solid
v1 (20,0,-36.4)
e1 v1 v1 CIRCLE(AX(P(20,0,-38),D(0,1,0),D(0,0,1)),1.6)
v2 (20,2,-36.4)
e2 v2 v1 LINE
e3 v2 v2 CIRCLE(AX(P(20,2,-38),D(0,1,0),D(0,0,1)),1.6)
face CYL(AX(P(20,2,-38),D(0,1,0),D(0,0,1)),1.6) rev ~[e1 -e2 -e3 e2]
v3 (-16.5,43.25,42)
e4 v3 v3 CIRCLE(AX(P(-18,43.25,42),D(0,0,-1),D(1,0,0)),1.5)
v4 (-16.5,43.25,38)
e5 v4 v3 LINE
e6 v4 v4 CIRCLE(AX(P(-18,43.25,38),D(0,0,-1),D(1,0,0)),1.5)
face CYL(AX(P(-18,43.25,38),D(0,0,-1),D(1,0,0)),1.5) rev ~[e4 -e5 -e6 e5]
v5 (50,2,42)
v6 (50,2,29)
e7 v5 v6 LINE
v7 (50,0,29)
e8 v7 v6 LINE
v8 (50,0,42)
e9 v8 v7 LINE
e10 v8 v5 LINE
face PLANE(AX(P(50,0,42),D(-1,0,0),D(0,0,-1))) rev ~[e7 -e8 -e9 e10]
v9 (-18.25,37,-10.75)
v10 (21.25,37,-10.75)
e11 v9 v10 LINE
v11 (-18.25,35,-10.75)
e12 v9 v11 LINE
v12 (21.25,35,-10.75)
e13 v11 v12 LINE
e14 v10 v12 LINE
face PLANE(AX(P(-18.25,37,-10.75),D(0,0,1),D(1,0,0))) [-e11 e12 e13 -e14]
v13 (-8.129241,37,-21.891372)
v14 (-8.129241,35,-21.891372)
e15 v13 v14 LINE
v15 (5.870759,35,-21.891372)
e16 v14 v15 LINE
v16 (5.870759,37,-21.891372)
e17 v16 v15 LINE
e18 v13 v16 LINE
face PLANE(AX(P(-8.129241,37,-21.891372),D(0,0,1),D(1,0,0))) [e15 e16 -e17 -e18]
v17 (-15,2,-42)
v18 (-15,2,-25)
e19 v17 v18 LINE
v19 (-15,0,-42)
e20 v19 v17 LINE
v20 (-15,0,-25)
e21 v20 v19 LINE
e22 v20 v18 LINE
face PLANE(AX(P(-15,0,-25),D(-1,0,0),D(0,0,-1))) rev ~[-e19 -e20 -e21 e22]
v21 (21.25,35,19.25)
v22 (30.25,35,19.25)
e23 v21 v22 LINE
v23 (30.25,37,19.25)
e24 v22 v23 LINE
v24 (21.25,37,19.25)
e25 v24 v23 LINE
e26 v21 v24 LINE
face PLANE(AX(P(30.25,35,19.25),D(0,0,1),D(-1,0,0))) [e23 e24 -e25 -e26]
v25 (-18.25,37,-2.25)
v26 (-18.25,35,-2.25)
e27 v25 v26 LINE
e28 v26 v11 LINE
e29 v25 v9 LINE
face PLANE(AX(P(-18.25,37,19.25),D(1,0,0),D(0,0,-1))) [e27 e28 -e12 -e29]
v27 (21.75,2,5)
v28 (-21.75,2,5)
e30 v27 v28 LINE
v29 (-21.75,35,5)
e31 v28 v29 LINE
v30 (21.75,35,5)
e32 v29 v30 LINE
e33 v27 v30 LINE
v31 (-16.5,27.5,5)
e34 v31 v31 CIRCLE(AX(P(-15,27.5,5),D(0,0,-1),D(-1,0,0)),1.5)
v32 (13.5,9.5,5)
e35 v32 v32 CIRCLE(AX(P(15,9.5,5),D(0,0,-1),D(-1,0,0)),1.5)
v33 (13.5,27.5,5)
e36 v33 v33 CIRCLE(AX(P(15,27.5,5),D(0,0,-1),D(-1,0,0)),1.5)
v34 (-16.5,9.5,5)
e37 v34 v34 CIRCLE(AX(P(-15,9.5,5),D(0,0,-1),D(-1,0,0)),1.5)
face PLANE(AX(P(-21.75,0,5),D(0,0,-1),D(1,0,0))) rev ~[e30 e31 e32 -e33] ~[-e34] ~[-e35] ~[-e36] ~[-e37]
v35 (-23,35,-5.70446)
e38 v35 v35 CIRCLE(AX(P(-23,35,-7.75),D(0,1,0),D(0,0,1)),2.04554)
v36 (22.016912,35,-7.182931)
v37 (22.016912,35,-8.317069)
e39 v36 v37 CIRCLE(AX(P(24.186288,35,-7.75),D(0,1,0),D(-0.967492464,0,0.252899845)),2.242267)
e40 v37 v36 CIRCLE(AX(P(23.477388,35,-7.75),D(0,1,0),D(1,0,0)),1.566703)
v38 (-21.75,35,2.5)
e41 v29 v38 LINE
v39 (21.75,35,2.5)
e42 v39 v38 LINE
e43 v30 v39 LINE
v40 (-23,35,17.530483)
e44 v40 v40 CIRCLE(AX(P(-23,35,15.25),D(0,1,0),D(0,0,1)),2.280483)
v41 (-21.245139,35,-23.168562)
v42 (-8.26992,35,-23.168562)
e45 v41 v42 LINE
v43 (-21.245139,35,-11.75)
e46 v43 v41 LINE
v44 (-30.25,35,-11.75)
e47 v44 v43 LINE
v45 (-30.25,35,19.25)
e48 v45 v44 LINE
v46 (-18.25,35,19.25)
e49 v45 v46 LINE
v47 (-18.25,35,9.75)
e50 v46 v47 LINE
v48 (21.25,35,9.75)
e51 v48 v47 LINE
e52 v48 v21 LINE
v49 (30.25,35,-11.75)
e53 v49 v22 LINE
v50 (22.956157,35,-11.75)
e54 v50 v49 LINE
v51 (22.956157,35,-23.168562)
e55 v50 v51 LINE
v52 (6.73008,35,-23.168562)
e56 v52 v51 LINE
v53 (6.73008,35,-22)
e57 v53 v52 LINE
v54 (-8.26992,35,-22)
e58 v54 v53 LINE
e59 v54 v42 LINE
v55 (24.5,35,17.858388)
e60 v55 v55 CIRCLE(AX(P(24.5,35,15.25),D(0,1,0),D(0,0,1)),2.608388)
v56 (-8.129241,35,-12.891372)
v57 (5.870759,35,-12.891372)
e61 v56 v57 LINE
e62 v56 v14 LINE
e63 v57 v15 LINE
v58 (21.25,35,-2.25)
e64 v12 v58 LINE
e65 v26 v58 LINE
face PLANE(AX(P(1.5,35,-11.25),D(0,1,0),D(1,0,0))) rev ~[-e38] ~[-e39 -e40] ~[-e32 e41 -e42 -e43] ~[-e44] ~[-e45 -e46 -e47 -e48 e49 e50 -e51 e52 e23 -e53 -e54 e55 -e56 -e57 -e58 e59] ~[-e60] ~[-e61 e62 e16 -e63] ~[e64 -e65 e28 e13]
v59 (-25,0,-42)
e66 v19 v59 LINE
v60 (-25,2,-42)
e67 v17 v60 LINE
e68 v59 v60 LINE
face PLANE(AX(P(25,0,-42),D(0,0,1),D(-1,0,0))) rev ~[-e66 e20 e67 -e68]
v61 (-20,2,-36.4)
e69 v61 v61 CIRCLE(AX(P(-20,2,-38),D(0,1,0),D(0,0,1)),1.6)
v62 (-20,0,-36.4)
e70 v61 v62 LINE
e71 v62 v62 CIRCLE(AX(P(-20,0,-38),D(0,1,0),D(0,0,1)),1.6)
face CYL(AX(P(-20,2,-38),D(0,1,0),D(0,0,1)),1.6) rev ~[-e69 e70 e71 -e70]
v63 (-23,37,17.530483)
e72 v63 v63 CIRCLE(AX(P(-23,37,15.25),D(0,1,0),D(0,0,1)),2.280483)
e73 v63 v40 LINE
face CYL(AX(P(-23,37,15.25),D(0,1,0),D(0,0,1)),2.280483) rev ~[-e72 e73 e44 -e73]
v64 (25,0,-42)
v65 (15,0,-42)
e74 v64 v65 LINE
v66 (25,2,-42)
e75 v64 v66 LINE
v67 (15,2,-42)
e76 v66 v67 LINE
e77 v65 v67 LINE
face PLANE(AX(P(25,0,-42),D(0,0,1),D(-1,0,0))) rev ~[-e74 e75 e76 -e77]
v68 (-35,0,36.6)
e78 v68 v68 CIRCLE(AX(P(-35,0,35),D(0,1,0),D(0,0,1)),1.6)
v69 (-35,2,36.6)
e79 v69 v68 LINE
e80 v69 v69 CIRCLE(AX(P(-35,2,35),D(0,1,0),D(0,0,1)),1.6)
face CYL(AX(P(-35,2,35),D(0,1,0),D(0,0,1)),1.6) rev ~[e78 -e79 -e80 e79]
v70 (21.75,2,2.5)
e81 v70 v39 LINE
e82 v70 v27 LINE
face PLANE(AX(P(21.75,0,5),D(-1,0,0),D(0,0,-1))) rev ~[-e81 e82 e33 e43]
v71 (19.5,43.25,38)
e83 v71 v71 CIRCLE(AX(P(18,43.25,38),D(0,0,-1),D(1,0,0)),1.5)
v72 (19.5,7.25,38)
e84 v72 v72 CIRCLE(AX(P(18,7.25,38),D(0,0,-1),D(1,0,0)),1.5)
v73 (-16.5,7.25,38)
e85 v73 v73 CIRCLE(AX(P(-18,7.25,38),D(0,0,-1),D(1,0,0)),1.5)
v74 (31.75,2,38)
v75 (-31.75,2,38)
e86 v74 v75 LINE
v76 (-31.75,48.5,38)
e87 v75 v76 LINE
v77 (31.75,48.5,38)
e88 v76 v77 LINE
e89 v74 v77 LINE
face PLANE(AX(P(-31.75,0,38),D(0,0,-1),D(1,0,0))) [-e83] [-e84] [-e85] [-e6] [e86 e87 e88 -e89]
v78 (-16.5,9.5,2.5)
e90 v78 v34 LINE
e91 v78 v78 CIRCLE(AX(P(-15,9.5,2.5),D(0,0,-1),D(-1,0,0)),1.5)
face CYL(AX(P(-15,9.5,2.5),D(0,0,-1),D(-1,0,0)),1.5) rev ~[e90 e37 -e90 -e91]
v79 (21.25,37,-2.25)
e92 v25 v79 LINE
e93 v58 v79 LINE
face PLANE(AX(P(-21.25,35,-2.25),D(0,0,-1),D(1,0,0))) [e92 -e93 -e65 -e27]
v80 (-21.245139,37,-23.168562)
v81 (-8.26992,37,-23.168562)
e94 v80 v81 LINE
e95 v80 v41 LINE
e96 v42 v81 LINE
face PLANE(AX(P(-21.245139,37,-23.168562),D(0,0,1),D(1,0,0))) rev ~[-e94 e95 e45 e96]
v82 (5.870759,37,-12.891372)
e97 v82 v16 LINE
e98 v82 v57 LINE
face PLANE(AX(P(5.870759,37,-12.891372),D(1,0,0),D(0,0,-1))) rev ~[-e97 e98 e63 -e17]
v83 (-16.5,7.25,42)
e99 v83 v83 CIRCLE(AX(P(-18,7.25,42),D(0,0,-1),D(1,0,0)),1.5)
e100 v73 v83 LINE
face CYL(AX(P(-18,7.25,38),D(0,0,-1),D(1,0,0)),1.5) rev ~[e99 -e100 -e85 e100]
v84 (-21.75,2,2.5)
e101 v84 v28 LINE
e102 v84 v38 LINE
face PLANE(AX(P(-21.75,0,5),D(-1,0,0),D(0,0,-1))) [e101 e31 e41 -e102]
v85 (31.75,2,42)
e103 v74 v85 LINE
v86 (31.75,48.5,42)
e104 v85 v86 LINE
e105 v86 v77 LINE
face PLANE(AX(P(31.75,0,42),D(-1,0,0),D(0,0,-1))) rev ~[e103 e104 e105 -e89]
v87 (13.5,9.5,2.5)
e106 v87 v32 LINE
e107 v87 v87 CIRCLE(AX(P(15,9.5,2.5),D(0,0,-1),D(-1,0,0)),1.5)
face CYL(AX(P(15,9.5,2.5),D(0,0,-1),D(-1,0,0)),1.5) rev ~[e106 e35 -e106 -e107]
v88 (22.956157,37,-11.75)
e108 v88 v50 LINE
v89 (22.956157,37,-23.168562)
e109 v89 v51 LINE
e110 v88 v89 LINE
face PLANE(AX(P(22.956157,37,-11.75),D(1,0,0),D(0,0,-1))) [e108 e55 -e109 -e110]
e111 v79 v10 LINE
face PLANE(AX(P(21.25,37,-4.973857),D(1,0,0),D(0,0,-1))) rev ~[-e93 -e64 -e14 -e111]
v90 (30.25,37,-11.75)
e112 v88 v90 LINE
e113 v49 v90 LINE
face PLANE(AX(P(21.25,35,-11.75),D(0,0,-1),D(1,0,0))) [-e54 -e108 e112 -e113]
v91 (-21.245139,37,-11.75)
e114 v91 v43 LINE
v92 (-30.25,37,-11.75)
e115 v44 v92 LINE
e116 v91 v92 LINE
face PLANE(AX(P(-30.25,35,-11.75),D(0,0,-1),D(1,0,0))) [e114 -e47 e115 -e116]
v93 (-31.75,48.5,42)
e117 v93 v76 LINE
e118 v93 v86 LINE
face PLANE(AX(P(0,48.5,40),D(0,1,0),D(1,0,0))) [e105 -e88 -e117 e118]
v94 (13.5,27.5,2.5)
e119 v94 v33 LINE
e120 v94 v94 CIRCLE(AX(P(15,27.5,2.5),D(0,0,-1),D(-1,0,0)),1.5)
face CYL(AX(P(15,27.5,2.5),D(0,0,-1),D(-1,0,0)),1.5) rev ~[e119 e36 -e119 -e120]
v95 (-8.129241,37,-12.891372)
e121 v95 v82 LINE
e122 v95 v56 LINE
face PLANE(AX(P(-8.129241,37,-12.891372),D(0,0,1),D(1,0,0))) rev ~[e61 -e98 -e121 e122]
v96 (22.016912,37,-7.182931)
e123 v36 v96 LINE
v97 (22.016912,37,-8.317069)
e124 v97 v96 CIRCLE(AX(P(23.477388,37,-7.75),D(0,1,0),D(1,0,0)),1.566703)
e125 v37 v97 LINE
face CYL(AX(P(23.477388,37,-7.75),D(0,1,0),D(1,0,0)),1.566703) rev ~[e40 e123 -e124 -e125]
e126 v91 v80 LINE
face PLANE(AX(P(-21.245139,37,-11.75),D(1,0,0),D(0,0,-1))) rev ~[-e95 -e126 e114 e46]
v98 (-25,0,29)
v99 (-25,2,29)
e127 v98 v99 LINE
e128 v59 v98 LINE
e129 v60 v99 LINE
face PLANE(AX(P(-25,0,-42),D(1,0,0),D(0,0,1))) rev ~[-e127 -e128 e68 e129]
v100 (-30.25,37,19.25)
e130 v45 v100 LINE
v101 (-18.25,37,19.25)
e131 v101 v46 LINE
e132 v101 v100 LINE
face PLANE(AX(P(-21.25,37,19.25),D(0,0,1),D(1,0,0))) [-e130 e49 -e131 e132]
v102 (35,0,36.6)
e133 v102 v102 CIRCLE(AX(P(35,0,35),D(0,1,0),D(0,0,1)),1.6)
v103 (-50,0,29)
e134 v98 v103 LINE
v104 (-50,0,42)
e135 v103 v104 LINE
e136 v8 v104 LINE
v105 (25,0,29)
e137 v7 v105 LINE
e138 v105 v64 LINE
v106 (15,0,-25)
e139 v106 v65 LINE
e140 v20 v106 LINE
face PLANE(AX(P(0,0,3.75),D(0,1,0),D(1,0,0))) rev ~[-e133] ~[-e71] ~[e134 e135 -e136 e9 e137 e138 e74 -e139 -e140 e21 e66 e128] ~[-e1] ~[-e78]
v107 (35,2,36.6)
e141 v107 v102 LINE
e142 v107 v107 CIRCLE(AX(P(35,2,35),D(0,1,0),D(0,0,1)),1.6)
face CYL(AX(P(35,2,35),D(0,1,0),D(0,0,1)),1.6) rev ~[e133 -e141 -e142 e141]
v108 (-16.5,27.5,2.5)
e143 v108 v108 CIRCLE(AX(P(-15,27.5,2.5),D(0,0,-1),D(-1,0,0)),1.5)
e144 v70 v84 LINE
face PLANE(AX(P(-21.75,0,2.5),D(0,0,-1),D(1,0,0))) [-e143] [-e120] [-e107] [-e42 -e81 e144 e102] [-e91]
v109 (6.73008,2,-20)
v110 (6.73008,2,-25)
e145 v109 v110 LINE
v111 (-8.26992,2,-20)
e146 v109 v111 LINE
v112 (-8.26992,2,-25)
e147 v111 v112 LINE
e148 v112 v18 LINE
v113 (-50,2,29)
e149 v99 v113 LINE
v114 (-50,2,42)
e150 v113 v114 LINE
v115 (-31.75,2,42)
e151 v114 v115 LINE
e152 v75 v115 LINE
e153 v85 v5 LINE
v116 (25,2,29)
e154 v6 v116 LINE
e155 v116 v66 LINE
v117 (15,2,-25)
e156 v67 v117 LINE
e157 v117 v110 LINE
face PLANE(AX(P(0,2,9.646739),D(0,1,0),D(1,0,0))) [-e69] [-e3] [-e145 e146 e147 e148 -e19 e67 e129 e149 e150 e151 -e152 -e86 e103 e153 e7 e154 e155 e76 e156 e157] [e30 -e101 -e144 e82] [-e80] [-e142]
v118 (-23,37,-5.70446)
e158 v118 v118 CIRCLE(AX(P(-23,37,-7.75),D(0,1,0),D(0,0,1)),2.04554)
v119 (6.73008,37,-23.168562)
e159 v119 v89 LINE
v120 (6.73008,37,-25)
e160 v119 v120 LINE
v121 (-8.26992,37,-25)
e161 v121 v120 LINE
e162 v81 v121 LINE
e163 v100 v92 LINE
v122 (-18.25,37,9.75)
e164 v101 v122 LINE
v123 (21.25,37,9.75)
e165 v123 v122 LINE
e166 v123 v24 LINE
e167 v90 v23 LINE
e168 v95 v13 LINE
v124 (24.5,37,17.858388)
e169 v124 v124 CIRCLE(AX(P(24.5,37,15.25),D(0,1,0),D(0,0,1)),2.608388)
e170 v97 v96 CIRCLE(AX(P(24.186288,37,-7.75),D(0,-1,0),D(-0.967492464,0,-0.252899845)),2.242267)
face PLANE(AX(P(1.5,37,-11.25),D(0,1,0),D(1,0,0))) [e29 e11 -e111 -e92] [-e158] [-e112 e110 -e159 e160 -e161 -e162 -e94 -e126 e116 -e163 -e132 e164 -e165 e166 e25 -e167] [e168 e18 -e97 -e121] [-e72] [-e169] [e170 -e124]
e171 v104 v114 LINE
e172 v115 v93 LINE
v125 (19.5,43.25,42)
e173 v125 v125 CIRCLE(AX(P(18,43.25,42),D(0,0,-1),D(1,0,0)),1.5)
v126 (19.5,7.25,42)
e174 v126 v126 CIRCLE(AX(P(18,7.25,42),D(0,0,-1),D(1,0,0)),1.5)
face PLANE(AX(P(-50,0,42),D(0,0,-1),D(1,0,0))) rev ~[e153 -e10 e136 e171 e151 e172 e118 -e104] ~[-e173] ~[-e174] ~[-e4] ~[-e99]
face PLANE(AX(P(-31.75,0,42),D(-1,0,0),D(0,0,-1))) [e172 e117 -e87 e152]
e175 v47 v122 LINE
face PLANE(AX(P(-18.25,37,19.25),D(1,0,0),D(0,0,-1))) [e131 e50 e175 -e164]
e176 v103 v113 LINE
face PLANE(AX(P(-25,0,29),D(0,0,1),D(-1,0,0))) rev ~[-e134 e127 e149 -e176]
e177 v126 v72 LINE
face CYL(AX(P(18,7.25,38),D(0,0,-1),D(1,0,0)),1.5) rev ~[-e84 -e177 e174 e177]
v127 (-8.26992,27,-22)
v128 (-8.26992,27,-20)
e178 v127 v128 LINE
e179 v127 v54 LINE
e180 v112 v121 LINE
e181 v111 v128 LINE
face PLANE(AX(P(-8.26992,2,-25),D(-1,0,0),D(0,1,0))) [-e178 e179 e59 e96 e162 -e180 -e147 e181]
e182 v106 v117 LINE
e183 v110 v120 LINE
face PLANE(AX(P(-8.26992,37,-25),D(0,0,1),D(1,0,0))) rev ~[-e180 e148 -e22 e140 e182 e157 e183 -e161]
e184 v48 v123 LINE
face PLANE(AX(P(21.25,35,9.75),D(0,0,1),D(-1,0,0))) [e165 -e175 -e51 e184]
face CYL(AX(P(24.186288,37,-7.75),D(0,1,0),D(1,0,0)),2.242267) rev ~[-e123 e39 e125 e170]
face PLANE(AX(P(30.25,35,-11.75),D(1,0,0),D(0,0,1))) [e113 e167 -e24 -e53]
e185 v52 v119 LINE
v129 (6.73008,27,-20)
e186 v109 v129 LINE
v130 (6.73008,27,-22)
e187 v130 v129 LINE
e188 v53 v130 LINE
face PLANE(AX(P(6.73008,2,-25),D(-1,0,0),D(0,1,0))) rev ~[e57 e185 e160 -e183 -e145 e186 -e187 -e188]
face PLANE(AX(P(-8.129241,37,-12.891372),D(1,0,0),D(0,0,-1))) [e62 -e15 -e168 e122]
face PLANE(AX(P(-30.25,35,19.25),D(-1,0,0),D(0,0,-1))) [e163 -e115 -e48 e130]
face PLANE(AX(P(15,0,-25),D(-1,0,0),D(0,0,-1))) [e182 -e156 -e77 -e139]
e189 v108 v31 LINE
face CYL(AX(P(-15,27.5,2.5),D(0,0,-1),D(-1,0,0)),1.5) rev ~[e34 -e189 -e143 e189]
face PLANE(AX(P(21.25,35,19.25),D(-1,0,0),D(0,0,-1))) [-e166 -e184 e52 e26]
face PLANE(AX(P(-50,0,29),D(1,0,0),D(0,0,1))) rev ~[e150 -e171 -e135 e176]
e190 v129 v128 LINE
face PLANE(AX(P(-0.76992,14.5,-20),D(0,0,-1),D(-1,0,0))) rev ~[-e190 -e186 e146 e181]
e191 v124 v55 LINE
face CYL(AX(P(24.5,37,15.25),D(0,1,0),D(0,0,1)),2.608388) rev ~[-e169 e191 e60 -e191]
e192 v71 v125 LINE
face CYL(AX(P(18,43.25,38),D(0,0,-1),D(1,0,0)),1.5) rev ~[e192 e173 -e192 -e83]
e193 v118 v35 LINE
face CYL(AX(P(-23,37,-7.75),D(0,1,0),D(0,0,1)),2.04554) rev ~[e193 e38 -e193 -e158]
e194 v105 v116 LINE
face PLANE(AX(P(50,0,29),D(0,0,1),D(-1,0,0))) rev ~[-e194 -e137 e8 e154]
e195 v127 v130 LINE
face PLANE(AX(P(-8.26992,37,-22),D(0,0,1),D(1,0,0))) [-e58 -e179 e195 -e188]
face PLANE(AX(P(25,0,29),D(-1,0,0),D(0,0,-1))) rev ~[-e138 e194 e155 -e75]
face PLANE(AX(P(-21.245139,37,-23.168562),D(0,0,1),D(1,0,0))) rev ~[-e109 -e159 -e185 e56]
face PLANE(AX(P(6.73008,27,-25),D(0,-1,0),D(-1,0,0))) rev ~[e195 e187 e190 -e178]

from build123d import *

# Parameters (mm, degrees)
SALIENTE_EXTRUIR1_DEPTH  = 2
CROQUIS2_W               = 30
CROQUIS2_H               = 17
CORTAR_EXTRUIR1_DEPTH    = 8
CROQUIS4_W               = 63.5
CROQUIS4_H               = 4
SALIENTE_EXTRUIR2_DEPTH  = 48.5
CROQUIS5_W               = 43.5
CROQUIS5_H               = 2.5
SALIENTE_EXTRUIR3_DEPTH  = 35
CROQUIS7_R               = 1.5
CORTAR_EXTRUIR2_DEPTH    = 9
CROQUIS8_R               = 1.5
CORTAR_EXTRUIR3_DEPTH    = 23
SALIENTE_EXTRUIR4_DEPTH  = 2
CROQUIS13_R              = 1.5
CORTAR_EXTRUIR4_DEPTH    = 2
CROQUIS16_W              = 3
CROQUIS16_H              = 31
SALIENTE_EXTRUIR7_DEPTH  = 2
CROQUIS17_W              = 15
CROQUIS17_H              = 3
SALIENTE_EXTRUIR8_DEPTH  = 25
CROQUIS21_W              = 15
CROQUIS21_H              = 3
SALIENTE_EXTRUIR9_DEPTH  = 2
CROQUIS25_R              = 3.826074219
CORTAR_EXTRUIR6_DEPTH    = 2
CROQUIS28_W              = 44.201296129
CROQUIS28_H              = 11.418561917
SALIENTE_EXTRUIR10_DEPTH = 2
CROQUIS30_W              = 15
CROQUIS30_H              = 3
SALIENTE_EXTRUIR11_DEPTH = 8
CROQUIS31_W              = 14
CROQUIS31_H              = 9
CORTAR_EXTRUIR7_DEPTH    = 2
CROQUIS33_W              = 39.5
CROQUIS33_H              = 1
SALIENTE_EXTRUIR13_DEPTH = 2
CROQUIS36_W              = 4.944902354
CROQUIS36_H              = 4.974433571
CROQUIS36_R              = 1.566702584
SALIENTE_EXTRUIR14_DEPTH = 2
CROQUIS37_R              = 2.242266835
CORTAR_EXTRUIR8_DEPTH    = 2
CROQUIS38_W              = 1.939564783
CROQUIS38_H              = 6.647351579
SALIENTE_EXTRUIR18_DEPTH = 2
CROQUIS39_R              = 2.608387943
CORTAR_EXTRUIR9_DEPTH    = 2
CROQUIS40_R              = 2.045540146
CORTAR_EXTRUIR10_DEPTH   = 2
CROQUIS41_R              = 2.280483158
CORTAR_EXTRUIR11_DEPTH   = 2
CROQUIS42_W              = 15
CROQUIS42_H              = 25
SALIENTE_EXTRUIR19_DEPTH = 5
CROQUIS43_R              = 1.6
CORTAR_EXTRUIR12_DEPTH   = 10


with BuildPart() as part:
    # Croquis1 → Saliente-Extruir1 (new body)
    with BuildSketch(Plane(origin=(0, 0, 0), x_dir=(1, 0, 0), z_dir=(0, 1, 0))):
        Polygon((25, 42), (-25, 42), (-25, -29), (-50, -29), (-50, -42), (50, -42), (50, -29), (25, -29), align=None)
    extrude(amount=SALIENTE_EXTRUIR1_DEPTH)

    # Croquis2 → Cortar-Extruir1 (cut)
    with BuildSketch(Plane(origin=(0, 0, 0), x_dir=(1, 0, 0), z_dir=(0, 1, 0))):
        with Locations((0, 33.5)):
            Rectangle(CROQUIS2_W, CROQUIS2_H)
    extrude(amount=CORTAR_EXTRUIR1_DEPTH, mode=Mode.SUBTRACT)

    # Croquis4 → Saliente-Extruir2 (add)
    with BuildSketch(Plane(origin=(0, 0, 0), x_dir=(1, 0, 0), z_dir=(0, 1, 0))):
        with Locations((0, -40)):
            Rectangle(CROQUIS4_W, CROQUIS4_H)
    extrude(amount=SALIENTE_EXTRUIR2_DEPTH)

    # Croquis5 → Saliente-Extruir3 (add)
    with BuildSketch(Plane(origin=(0, 0, 0), x_dir=(1, 0, 0), z_dir=(0, 1, 0))):
        with Locations((0, -3.75)):
            Rectangle(CROQUIS5_W, CROQUIS5_H)
    extrude(amount=SALIENTE_EXTRUIR3_DEPTH)

    # Croquis7 → Cortar-Extruir2 (cut, symmetric)
    with BuildSketch(Plane(origin=(0, 0, 38), x_dir=(-1, 0, 0), z_dir=(0, 0, -1))):
        with Locations(Location((-18, 43.25, 0), (0, 0, 180))):
            Circle(CROQUIS7_R)
        with Locations(Location((18, 43.25, 0), (0, 0, 180))):
            Circle(CROQUIS7_R)
        with Locations(Location((18, 7.25, 0), (0, 0, 180))):
            Circle(CROQUIS7_R)
        with Locations(Location((-18, 7.25, 0), (0, 0, 180))):
            Circle(CROQUIS7_R)
    extrude(amount=CORTAR_EXTRUIR2_DEPTH, both=True, mode=Mode.SUBTRACT)

    # Croquis8 → Cortar-Extruir3 (cut)
    with BuildSketch(Plane(origin=(0, 0, 2.5), x_dir=(-1, 0, 0), z_dir=(0, 0, -1))):
        with Locations((-15, 27.5)):
            Circle(CROQUIS8_R)
        with Locations((15, 9.5)):
            Circle(CROQUIS8_R)
        with Locations((15, 27.5)):
            Circle(CROQUIS8_R)
        with Locations((-15, 9.5)):
            Circle(CROQUIS8_R)
    extrude(amount=-CORTAR_EXTRUIR3_DEPTH, mode=Mode.SUBTRACT)



with BuildPart() as body_2:
    # Croquis12 → Saliente-Extruir4 (new body)
    with BuildSketch(Plane(origin=(0, 35, -35), x_dir=(1, 0, 0), z_dir=(0, -1, 0))):
        Polygon((21.25, 44.75), (-21.25, 44.75), (-21.25, 54.25), (-30.25, 54.25), (-30.25, 23.25), (-21.25, 23.25), (-21.25, 32.75), (21.25, 32.75), (21.25, 23.25), (30.25, 23.25), (30.25, 54.25), (21.25, 54.25), align=None)
    extrude(amount=-SALIENTE_EXTRUIR4_DEPTH)

    # Croquis13 → Cortar-Extruir4 (cut)
    with BuildSketch(Plane(origin=(0, 37, 0), x_dir=(1, 0, 0), z_dir=(0, 1, 0))):
        with Locations(Location((23, -15.25, 0), (0, 0, 270))):
            Circle(CROQUIS13_R)
        with Locations(Location((23, 7.75, 0), (0, 0, 90))):
            Circle(CROQUIS13_R)
        with Locations(Location((-23, 7.75, 0), (0, 0, 270))):
            Circle(CROQUIS13_R)
        with Locations(Location((-23, -15.25, 0), (0, 0, 90))):
            Circle(CROQUIS13_R)
    extrude(amount=-CORTAR_EXTRUIR4_DEPTH, mode=Mode.SUBTRACT)


with BuildPart() as part_1:
    add(part.part)

    add(body_2.part)  # Saliente-Extruir7 merges body 2
    # Croquis16 → Saliente-Extruir7 (add)
    with BuildSketch(Plane(origin=(0, 37, 0), x_dir=(1, 0, 0), z_dir=(0, 1, 0))):
        with Locations((-19.75, -3.75)):
            Rectangle(CROQUIS16_W, CROQUIS16_H)
    extrude(amount=-SALIENTE_EXTRUIR7_DEPTH)

    # Croquis17 → Saliente-Extruir8 (add)
    with BuildSketch(Plane(origin=(0, 2, 0), x_dir=(1, 0, 0), z_dir=(0, 1, 0))):
        with Locations((-0.769919921, 23.5)):
            Rectangle(CROQUIS17_W, CROQUIS17_H)
    extrude(amount=SALIENTE_EXTRUIR8_DEPTH)

    # Croquis21 → Saliente-Extruir9 (add)
    with BuildSketch(Plane(origin=(0, 27, 0), x_dir=(1, 0, 0), z_dir=(0, 1, 0))):
        with Locations((-0.769919921, 23.5)):
            Rectangle(CROQUIS21_W, CROQUIS21_H)
    extrude(amount=SALIENTE_EXTRUIR9_DEPTH)

    # Croquis25 → Cortar-Extruir6 (cut)
    with BuildSketch(Plane(origin=(0, 0, -25), x_dir=(-1, 0, 0), z_dir=(0, 0, -1))):
        with Locations((1.065680286, 20.360266958)):
            Circle(CROQUIS25_R)
    extrude(amount=-CORTAR_EXTRUIR6_DEPTH, mode=Mode.SUBTRACT)

    # Croquis28 → Saliente-Extruir10 (add)
    with BuildSketch(Plane(origin=(0, 37, 0), x_dir=(1, 0, 0), z_dir=(0, 1, 0))):
        with Locations((0.855508958, 17.459280959)):
            Rectangle(CROQUIS28_W, CROQUIS28_H)
    extrude(amount=-SALIENTE_EXTRUIR10_DEPTH)

    # Croquis30 → Saliente-Extruir11 (add)
    with BuildSketch(Plane(origin=(0, 37, 0), x_dir=(1, 0, 0), z_dir=(0, 1, 0))):
        with Locations((-0.769919921, 23.5)):
            Rectangle(CROQUIS30_W, CROQUIS30_H)
    extrude(amount=-SALIENTE_EXTRUIR11_DEPTH)

    # Croquis31 → Cortar-Extruir7 (cut)
    with BuildSketch(Plane(origin=(0, 37, 0), x_dir=(1, 0, 0), z_dir=(0, 1, 0))):
        with Locations((-1.129241311, 17.391372283)):
            Rectangle(CROQUIS31_W, CROQUIS31_H)
    extrude(amount=-CORTAR_EXTRUIR7_DEPTH, mode=Mode.SUBTRACT)

    # Croquis33 → Saliente-Extruir13 (add)
    with BuildSketch(Plane(origin=(0, 37, 0), x_dir=(1, 0, 0), z_dir=(0, 1, 0))):
        with Locations((1.5, 11.25)):
            Rectangle(CROQUIS33_W, CROQUIS33_H)
    extrude(amount=-SALIENTE_EXTRUIR13_DEPTH)

    # Croquis36 → Saliente-Extruir14 (add)
    with BuildSketch(Plane(origin=(0, 37, 0), x_dir=(1, 0, 0), z_dir=(0, 1, 0))):
        with Locations((23.722451177, 7.461073997)):
            Rectangle(CROQUIS36_W, CROQUIS36_H)
        with Locations((23.477387718, 7.75)):
            Circle(CROQUIS36_R, mode=Mode.SUBTRACT)
    extrude(amount=-SALIENTE_EXTRUIR14_DEPTH)

    # Croquis37 → Cortar-Extruir8 (cut)
    with BuildSketch(Plane(origin=(0, 37, 0), x_dir=(1, 0, 0), z_dir=(0, 1, 0))):
        with Locations((24.186288099, 7.75)):
            Circle(CROQUIS37_R)
    extrude(amount=-CORTAR_EXTRUIR8_DEPTH, mode=Mode.SUBTRACT)

    # Croquis38 → Saliente-Extruir18 (add)
    with BuildSketch(Plane(origin=(0, 37, 0), x_dir=(1, 0, 0), z_dir=(0, 1, 0))):
        with Locations((22.219782392, -15.926324211)):
            Rectangle(CROQUIS38_W, CROQUIS38_H)
    extrude(amount=-SALIENTE_EXTRUIR18_DEPTH)

    # Croquis39 → Cortar-Extruir9 (cut)
    with BuildSketch(Plane(origin=(0, 37, 0), x_dir=(1, 0, 0), z_dir=(0, 1, 0))):
        with Locations(Location((24.5, -15.25, 0), (0, 0, 270))):
            Circle(CROQUIS39_R)
    extrude(amount=-CORTAR_EXTRUIR9_DEPTH, mode=Mode.SUBTRACT)

    # Croquis40 → Cortar-Extruir10 (cut)
    with BuildSketch(Plane(origin=(0, 37, 0), x_dir=(1, 0, 0), z_dir=(0, 1, 0))):
        with Locations(Location((-23, 7.75, 0), (0, 0, 270))):
            Circle(CROQUIS40_R)
    extrude(amount=-CORTAR_EXTRUIR10_DEPTH, mode=Mode.SUBTRACT)

    # Croquis41 → Cortar-Extruir11 (cut)
    with BuildSketch(Plane(origin=(0, 37, 0), x_dir=(1, 0, 0), z_dir=(0, 1, 0))):
        with Locations(Location((-23, -15.25, 0), (0, 0, 270))):
            Circle(CROQUIS41_R)
    extrude(amount=-CORTAR_EXTRUIR11_DEPTH, mode=Mode.SUBTRACT)

    # Croquis42 → Saliente-Extruir19 (add)
    with BuildSketch(Plane(origin=(0, 0, -25), x_dir=(-1, 0, 0), z_dir=(0, 0, -1))):
        with Locations((0.769919921, 14.5)):
            Rectangle(CROQUIS42_W, CROQUIS42_H)
    extrude(amount=-SALIENTE_EXTRUIR19_DEPTH)

    # Croquis43 → Cortar-Extruir12 (cut)
    with BuildSketch(Plane(origin=(0, 2, 0), x_dir=(1, 0, 0), z_dir=(0, 1, 0))):
        with Locations(Location((-20, 38, 0), (0, 0, 270))):
            Circle(CROQUIS43_R)
        with Locations(Location((20, 38, 0), (0, 0, 270))):
            Circle(CROQUIS43_R)
        with Locations(Location((-35, -35, 0), (0, 0, 270))):
            Circle(CROQUIS43_R)
        with Locations(Location((35, -35, 0), (0, 0, 270))):
            Circle(CROQUIS43_R)
    extrude(amount=-CORTAR_EXTRUIR12_DEPTH, mode=Mode.SUBTRACT)


solid = part_1.part
